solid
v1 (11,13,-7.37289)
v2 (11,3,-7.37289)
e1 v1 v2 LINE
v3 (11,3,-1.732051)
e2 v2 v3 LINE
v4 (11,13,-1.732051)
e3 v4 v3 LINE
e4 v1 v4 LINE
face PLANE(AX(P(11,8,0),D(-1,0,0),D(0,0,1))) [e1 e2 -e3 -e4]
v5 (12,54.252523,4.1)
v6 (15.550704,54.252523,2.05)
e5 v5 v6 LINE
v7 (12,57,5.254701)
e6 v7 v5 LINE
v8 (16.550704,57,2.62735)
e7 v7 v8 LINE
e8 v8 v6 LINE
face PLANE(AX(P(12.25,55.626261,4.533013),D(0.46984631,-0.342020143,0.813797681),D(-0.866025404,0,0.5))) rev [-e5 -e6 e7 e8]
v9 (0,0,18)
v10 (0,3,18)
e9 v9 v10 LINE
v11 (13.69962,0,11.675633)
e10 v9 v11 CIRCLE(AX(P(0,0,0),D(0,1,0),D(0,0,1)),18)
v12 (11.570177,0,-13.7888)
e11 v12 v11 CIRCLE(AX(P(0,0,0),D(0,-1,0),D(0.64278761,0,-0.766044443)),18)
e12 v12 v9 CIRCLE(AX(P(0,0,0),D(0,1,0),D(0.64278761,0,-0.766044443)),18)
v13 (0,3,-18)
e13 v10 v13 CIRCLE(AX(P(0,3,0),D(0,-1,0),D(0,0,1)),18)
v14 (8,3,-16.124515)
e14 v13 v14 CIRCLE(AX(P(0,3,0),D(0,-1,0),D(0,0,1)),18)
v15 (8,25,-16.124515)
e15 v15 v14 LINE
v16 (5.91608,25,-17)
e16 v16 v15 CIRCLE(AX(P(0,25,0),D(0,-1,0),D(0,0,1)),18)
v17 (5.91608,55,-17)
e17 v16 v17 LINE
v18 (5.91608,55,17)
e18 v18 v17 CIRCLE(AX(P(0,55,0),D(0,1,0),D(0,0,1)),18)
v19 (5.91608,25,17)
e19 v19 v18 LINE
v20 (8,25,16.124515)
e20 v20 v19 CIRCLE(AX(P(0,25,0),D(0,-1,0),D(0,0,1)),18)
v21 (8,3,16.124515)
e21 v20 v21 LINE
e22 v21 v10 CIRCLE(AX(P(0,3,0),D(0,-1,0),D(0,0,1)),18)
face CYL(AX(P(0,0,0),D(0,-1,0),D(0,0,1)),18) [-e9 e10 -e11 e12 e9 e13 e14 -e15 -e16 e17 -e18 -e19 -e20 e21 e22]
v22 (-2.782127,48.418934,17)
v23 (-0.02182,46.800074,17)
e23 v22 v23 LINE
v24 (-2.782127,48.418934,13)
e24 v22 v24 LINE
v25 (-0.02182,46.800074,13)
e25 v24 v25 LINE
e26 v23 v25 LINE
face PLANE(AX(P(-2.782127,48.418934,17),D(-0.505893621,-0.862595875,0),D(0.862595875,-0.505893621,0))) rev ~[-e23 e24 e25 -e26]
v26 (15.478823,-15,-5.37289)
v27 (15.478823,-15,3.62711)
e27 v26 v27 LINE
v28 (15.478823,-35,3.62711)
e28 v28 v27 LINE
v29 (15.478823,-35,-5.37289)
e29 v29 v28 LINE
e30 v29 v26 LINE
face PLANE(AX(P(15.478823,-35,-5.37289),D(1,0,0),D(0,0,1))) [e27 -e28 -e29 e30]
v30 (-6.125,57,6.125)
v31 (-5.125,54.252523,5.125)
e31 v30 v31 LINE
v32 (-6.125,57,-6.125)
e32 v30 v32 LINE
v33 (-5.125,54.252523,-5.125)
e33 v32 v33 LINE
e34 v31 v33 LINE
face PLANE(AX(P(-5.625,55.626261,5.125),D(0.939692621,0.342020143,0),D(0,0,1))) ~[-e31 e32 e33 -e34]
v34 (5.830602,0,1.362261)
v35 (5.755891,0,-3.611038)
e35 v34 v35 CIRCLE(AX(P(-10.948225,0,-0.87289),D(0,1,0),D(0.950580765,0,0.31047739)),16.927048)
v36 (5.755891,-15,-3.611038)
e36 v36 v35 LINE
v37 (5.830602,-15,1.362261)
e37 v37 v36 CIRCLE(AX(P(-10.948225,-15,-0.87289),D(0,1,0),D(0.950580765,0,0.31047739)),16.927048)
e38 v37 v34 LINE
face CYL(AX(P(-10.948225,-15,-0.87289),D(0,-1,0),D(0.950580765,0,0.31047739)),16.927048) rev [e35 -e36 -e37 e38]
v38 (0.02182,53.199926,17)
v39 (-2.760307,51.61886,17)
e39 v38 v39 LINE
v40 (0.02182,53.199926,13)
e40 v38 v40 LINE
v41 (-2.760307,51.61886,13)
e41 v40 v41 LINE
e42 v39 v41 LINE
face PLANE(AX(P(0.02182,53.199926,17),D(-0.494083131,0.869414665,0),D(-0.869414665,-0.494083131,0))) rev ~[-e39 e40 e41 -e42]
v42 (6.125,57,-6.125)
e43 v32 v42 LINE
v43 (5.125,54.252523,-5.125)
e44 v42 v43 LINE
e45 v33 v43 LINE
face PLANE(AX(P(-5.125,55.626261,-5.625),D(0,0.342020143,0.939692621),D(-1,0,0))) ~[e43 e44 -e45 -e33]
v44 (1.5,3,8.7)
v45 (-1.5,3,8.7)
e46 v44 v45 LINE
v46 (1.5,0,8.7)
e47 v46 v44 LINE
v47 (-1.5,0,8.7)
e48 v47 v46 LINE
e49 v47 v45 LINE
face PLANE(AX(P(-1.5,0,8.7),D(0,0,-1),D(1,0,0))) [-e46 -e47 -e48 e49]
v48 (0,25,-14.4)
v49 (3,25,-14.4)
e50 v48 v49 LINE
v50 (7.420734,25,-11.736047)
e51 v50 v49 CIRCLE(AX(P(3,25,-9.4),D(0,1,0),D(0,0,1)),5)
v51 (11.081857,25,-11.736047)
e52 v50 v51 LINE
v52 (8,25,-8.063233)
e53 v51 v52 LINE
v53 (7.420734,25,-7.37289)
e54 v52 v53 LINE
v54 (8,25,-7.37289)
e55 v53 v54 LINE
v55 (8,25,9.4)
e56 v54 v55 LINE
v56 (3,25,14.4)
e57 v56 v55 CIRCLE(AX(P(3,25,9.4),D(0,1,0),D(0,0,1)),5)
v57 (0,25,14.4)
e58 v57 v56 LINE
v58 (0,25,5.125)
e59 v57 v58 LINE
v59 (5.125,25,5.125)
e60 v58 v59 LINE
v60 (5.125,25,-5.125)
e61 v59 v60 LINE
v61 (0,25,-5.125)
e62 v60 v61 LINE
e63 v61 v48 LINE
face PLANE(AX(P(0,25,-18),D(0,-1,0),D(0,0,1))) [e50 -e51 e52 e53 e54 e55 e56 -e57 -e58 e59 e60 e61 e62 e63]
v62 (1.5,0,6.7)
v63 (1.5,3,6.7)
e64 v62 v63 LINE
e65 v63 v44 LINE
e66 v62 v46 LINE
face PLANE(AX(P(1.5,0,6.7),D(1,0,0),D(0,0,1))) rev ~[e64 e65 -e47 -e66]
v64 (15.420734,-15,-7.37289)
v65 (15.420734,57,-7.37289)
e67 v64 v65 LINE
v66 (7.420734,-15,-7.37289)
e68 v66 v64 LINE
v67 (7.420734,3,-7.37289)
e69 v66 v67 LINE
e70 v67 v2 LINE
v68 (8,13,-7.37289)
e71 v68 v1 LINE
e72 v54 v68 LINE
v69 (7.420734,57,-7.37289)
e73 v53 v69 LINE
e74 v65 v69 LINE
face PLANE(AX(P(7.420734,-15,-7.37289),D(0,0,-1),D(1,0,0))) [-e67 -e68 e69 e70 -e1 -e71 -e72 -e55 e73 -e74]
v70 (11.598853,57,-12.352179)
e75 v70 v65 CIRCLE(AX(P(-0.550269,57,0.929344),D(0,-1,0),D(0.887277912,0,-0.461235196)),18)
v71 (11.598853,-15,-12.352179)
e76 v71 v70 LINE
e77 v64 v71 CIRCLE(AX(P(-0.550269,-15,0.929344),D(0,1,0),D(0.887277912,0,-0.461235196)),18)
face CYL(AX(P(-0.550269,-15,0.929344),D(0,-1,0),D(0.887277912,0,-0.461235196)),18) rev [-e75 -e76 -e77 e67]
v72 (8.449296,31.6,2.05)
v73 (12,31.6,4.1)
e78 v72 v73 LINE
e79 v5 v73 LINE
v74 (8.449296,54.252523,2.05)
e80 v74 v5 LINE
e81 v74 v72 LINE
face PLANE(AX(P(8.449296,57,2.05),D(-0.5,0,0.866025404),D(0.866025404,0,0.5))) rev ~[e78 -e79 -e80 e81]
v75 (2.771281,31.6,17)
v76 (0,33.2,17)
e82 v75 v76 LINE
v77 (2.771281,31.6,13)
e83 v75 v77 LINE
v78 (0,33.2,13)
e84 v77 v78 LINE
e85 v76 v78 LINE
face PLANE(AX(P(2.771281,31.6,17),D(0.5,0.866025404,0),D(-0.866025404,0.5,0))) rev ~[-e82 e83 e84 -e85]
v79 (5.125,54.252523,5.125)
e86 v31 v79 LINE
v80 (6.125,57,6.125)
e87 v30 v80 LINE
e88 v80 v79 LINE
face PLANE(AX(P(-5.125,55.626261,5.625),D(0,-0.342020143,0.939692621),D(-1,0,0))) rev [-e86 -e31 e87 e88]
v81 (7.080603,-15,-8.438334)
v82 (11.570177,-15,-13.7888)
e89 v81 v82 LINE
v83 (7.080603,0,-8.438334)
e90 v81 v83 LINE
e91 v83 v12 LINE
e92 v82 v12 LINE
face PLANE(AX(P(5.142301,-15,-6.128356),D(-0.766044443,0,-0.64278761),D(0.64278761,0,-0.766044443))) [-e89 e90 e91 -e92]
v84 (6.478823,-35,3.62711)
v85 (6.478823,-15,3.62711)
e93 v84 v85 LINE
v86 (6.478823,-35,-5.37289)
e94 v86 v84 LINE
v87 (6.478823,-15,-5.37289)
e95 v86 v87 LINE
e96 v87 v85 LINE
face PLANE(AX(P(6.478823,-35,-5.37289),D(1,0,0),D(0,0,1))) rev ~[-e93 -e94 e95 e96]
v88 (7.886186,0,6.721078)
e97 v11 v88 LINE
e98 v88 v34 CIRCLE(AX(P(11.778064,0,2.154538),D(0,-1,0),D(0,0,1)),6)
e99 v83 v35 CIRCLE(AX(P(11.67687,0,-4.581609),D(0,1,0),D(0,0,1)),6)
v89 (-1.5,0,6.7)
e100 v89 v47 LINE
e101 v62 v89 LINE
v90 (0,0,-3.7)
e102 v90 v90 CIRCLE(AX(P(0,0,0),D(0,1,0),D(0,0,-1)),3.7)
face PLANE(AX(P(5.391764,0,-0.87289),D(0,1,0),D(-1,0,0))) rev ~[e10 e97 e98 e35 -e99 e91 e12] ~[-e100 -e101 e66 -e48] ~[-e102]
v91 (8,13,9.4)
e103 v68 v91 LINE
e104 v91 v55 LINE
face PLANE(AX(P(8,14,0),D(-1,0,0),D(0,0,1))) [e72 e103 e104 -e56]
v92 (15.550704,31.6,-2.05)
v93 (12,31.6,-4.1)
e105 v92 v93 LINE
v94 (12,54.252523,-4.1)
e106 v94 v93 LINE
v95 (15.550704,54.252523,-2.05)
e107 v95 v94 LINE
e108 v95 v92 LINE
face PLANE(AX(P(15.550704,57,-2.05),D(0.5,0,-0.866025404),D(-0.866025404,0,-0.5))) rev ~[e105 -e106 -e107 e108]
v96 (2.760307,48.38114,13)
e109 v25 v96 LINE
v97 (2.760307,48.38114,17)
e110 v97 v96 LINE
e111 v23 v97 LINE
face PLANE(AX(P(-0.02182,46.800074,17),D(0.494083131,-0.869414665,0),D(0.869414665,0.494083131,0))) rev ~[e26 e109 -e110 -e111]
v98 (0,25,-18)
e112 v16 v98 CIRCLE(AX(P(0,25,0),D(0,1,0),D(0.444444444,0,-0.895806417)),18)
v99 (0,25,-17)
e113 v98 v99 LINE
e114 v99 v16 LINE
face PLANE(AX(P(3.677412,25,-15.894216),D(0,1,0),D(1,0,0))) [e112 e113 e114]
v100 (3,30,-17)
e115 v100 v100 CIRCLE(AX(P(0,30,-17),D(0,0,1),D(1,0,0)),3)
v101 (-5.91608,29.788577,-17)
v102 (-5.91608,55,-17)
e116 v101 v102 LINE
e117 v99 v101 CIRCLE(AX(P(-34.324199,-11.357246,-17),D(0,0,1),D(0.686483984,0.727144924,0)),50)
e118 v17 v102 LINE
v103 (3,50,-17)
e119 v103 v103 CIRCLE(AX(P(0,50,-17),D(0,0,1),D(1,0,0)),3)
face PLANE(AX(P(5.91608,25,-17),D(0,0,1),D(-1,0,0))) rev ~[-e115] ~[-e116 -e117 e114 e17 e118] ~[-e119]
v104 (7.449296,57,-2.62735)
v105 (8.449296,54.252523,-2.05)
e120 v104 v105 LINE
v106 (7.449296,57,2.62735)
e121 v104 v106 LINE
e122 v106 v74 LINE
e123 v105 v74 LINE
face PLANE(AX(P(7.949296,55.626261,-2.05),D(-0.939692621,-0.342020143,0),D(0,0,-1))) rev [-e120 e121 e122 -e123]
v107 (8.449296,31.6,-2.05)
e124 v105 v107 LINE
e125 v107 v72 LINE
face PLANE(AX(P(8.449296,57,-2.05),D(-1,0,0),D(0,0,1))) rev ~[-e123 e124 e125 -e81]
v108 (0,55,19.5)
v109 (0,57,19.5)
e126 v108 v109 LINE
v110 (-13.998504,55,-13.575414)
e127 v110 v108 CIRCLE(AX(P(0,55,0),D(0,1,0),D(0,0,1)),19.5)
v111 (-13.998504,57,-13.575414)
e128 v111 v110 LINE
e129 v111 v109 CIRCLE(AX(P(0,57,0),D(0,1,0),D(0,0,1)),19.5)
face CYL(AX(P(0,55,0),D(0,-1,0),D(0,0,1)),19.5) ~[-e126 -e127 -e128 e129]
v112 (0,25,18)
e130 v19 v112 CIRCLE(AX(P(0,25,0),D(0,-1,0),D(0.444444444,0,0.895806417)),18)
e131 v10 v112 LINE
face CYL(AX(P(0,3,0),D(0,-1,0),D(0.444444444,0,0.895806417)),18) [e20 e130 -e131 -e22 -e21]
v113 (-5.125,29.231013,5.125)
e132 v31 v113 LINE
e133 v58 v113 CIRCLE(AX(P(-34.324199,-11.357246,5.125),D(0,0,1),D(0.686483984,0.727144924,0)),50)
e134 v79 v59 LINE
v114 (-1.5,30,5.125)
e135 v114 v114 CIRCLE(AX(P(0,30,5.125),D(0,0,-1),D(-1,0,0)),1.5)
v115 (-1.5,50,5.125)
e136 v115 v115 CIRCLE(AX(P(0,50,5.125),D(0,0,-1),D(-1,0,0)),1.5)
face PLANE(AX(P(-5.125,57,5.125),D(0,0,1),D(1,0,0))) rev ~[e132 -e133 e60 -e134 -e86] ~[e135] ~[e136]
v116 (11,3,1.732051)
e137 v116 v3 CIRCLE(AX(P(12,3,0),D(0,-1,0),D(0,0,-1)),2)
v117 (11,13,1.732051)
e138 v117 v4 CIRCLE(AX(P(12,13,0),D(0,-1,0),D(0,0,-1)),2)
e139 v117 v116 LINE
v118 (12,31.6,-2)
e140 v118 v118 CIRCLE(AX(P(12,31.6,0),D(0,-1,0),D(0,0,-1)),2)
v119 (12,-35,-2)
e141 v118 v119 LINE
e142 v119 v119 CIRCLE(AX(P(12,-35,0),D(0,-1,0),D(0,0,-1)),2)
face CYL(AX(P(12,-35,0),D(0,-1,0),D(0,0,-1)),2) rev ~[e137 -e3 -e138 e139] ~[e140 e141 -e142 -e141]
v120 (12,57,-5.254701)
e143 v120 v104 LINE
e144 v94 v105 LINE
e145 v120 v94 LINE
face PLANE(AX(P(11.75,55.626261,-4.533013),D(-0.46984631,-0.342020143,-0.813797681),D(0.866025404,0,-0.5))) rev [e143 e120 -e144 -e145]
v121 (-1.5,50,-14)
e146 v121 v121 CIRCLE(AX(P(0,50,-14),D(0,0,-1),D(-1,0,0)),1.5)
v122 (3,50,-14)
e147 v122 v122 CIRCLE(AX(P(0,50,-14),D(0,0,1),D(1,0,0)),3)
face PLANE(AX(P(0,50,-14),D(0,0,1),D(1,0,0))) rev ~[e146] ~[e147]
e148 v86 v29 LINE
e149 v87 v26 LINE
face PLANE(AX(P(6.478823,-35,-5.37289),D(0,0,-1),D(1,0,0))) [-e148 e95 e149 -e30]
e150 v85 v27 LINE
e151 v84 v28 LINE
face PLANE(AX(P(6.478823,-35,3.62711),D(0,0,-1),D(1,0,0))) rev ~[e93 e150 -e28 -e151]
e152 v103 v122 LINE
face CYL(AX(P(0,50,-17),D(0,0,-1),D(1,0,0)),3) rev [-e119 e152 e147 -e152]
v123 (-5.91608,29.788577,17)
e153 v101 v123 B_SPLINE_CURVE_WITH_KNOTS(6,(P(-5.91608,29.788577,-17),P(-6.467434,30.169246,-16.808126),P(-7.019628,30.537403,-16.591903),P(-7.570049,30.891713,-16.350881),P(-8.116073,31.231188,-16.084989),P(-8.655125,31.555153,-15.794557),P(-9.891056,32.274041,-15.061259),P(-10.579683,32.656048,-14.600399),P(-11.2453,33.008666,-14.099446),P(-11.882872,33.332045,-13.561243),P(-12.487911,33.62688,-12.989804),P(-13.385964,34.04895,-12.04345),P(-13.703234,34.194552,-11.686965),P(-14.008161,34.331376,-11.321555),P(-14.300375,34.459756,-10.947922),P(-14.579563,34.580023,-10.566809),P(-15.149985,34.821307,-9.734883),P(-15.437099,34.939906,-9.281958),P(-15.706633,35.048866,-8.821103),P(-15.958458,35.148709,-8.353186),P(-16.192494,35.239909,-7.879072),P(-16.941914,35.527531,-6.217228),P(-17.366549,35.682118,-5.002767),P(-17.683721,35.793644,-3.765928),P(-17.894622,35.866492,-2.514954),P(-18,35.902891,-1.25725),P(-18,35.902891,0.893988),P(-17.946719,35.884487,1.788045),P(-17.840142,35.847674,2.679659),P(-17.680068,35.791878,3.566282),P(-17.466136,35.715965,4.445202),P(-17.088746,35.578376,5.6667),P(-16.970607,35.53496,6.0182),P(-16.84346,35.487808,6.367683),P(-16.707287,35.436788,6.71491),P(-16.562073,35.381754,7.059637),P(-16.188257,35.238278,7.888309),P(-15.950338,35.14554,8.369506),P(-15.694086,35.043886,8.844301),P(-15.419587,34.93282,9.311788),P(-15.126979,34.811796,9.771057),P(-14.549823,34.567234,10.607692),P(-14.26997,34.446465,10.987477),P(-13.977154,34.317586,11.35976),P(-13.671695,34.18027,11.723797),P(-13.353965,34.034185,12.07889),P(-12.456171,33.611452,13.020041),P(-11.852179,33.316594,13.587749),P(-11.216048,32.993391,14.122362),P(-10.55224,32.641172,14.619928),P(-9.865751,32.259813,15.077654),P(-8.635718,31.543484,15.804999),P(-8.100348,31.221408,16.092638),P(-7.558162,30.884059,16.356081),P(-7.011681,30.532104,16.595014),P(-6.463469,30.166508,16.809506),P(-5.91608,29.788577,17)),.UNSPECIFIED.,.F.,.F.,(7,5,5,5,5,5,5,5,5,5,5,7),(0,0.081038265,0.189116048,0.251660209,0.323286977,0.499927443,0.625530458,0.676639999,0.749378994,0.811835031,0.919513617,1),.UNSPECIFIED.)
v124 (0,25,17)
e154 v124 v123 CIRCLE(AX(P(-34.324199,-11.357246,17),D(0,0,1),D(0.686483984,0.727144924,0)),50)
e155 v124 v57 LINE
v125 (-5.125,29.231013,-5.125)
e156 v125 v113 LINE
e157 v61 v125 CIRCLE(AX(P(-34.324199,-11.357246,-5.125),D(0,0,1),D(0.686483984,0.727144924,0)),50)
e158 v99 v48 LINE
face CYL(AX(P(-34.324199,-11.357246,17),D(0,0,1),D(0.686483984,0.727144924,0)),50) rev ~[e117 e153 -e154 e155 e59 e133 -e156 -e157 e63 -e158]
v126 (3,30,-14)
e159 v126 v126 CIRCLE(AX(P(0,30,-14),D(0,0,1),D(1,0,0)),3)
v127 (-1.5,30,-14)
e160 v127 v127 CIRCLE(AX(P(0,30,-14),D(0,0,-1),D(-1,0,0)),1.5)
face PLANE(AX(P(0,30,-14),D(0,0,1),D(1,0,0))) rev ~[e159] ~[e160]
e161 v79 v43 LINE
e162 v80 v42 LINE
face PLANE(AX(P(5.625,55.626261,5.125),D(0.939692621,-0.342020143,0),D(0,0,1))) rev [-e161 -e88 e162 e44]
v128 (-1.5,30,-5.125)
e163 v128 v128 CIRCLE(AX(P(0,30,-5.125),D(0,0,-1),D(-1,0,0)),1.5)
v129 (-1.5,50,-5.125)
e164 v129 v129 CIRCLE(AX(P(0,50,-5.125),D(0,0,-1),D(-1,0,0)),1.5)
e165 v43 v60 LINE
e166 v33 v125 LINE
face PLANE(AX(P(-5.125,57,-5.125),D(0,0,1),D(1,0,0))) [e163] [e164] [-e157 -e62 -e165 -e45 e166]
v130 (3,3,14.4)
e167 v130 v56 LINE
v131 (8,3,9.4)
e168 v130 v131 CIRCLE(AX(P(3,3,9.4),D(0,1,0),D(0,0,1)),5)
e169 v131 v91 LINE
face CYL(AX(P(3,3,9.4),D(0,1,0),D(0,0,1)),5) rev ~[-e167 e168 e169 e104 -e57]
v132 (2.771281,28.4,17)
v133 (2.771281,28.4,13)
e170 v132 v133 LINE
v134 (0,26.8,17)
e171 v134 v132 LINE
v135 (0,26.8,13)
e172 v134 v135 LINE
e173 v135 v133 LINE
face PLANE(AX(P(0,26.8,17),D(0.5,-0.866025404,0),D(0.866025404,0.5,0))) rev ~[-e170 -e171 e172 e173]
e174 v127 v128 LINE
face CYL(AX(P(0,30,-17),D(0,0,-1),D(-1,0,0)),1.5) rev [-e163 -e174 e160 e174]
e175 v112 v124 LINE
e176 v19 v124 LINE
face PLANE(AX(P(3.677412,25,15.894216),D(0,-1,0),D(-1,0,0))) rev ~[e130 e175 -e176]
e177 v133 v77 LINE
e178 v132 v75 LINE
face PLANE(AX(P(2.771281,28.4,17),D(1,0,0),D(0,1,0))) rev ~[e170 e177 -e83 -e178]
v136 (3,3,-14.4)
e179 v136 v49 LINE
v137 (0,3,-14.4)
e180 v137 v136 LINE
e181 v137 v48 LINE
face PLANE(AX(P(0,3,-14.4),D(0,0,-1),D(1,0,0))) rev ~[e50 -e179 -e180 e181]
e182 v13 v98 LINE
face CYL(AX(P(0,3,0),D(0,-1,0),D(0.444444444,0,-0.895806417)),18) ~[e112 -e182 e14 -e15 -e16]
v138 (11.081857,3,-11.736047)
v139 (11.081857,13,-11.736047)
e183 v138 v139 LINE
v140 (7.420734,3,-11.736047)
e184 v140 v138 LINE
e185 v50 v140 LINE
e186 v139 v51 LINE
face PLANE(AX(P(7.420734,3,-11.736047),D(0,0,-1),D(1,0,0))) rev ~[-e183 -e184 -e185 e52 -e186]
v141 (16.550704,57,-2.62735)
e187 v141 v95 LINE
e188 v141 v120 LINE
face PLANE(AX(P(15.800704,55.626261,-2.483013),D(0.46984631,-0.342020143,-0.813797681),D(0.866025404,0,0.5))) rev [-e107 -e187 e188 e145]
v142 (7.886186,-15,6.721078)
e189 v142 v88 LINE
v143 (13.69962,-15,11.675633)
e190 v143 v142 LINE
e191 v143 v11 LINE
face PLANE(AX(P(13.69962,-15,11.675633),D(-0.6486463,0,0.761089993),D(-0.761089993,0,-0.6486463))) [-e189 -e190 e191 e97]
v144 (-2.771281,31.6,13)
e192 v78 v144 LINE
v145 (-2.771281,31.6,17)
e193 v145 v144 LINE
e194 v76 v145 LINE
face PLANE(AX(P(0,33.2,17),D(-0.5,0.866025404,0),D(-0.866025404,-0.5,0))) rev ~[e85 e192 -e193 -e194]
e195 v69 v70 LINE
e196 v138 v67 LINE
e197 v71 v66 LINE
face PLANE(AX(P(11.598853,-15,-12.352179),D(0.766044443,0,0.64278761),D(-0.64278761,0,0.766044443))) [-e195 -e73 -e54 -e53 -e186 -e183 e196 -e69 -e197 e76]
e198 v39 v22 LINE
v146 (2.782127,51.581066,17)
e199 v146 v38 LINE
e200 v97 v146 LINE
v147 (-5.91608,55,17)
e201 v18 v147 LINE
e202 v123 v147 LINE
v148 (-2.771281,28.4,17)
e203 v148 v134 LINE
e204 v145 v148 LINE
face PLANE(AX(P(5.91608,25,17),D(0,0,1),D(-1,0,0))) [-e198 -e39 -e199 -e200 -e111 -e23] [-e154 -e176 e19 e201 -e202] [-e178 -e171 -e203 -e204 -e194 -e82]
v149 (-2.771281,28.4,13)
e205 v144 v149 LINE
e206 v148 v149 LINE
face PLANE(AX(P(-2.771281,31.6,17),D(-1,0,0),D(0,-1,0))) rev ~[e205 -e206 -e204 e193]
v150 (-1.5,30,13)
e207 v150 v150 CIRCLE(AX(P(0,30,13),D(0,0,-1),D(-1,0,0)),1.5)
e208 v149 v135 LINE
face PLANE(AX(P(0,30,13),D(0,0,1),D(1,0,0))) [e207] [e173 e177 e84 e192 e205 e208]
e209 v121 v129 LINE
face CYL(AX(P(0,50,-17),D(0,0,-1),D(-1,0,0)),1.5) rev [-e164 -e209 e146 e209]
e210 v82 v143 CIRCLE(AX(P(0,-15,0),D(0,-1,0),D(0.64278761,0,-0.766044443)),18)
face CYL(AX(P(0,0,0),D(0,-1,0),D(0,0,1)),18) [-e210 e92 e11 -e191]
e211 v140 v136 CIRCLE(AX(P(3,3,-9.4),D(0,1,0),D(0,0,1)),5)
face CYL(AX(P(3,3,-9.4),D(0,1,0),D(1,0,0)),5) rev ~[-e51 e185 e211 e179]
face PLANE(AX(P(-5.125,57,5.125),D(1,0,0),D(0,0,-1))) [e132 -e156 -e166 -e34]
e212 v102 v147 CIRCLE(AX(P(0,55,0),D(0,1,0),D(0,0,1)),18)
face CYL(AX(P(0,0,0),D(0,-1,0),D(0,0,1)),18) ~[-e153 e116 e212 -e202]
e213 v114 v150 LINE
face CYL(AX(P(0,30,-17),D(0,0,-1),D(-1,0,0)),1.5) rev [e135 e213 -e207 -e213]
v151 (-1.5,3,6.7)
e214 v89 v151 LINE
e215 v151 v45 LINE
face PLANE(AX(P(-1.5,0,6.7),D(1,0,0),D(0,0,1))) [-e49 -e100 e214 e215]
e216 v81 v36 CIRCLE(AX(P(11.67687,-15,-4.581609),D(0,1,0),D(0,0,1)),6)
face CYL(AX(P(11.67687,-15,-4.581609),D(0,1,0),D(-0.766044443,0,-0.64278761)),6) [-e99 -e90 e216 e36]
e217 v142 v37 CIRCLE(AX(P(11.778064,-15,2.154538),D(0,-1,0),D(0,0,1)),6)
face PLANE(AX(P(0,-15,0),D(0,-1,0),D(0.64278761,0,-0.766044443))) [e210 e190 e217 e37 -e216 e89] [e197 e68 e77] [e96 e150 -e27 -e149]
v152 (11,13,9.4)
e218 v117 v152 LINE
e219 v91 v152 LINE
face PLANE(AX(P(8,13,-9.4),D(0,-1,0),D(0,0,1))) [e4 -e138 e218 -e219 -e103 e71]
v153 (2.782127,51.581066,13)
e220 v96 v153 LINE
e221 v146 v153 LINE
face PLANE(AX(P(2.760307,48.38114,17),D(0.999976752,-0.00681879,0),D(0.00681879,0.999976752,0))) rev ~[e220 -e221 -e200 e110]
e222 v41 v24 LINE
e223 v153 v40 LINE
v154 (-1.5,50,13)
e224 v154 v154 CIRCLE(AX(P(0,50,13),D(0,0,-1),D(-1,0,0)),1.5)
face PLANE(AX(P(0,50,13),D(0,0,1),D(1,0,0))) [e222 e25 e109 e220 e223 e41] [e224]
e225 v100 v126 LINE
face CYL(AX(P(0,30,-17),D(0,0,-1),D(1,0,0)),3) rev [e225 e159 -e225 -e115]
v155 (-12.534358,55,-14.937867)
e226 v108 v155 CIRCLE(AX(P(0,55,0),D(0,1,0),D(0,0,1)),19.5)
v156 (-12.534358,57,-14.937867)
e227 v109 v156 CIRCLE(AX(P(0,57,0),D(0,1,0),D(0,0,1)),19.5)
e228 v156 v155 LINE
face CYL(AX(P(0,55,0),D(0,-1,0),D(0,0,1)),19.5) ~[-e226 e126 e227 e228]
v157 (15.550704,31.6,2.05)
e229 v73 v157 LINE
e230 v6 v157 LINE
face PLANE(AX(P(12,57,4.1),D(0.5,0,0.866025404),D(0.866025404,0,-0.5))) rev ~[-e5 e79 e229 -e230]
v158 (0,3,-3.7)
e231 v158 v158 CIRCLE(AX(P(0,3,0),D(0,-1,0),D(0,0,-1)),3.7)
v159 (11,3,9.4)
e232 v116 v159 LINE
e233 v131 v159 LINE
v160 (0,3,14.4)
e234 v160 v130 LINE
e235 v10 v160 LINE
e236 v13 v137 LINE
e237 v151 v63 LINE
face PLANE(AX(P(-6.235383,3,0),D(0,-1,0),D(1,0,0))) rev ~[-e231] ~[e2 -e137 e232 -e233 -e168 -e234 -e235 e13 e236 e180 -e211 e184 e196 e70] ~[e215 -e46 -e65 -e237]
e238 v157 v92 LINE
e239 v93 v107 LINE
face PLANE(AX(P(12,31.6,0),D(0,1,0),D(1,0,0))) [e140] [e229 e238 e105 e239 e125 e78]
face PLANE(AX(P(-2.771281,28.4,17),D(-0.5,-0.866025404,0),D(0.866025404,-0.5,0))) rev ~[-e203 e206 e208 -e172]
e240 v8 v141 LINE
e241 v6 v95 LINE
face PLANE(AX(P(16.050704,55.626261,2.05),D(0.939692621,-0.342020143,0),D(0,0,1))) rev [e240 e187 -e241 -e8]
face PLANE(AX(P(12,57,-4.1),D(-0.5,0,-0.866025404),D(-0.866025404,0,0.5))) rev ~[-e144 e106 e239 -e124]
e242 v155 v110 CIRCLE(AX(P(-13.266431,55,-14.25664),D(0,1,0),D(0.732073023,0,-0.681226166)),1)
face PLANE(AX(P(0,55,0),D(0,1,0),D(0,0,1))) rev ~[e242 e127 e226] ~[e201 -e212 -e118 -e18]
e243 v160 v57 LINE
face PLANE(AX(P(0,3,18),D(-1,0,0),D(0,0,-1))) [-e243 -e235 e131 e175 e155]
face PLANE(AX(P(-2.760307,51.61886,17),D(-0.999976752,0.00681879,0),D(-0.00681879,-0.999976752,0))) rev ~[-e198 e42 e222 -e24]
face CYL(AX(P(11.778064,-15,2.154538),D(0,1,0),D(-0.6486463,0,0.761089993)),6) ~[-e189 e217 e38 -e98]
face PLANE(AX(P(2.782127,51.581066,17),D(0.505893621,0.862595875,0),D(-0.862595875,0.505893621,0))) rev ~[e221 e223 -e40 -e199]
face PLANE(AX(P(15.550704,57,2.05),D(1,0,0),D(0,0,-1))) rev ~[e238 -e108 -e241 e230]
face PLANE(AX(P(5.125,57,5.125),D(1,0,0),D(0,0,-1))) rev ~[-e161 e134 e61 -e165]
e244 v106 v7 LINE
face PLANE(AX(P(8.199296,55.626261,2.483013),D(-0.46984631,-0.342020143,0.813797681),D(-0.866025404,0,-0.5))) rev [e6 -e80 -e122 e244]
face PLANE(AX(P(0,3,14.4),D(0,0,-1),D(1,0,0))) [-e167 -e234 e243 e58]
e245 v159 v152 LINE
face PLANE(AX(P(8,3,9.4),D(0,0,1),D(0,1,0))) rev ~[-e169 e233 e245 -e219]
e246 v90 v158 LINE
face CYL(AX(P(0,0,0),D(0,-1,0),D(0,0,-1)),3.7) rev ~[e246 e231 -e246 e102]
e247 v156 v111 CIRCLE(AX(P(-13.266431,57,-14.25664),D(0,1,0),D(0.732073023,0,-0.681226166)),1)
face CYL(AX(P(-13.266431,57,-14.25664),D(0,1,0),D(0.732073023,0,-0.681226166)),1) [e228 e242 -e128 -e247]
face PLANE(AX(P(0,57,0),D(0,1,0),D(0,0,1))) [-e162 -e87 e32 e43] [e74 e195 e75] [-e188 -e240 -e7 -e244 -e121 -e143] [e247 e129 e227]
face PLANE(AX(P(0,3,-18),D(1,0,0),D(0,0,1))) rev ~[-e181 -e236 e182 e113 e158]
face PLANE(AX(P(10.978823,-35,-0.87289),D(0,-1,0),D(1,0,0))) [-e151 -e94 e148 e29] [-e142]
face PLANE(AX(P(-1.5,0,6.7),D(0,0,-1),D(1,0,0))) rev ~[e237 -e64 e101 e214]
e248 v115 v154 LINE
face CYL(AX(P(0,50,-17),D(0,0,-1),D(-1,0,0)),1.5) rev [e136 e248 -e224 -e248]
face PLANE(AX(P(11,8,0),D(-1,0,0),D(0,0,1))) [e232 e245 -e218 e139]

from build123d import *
from build123d.topology import SkipClean

# Parameters (mm, degrees)
SKETCH_1_R          = 18
EXTRUDE_1_DEPTH     = 55
SKETCH_2_R          = 19.5
EXTRUDE_2_DEPTH     = 2
SKETCH_3_W          = 10.25
SKETCH_3_H          = 10.25
CUT_EXTRUDE_1_DEPTH = 40
EXTRUDE_START       = 15
EXTRUDE_3_DEPTH     = 15
BOSS_EXTRUDE1_START = 20
SKETCH1_R           = 18
BOSS_EXTRUDE1_DEPTH = 20
BOSS_EXTRUDE2_START = 7
SKETCH3_R           = 18
BOSS_EXTRUDE2_DEPTH = 7
SKETCH4_W           = 10.2
SKETCH4_H           = 10.2
CUT_EXTRUDE2_DEPTH  = 27
CUT_EXTRUDE4_DEPTH  = 25
BOSS_EXTRUDE3_DEPTH = 3
SKETCH9_W           = 36
SKETCH9_H           = 22
CUT_EXTRUDE5_DEPTH  = 8
SKETCH10_R          = 3.7
SKETCH10_W          = 3
SKETCH10_H          = 2
CUT_EXTRUDE6_DEPTH  = 10
SKETCH11_R          = 2
CUT_EXTRUDE7_DEPTH  = 102
SKETCH15_R          = 18
CUT_EXTRUDE9_DEPTH  = 27
CUT_EXTRUDE11_DEPTH = 30
SKETCH18_R          = 1.5
CUT_EXTRUDE12_DEPTH = 71.437915926
SKETCH19_R          = 3
CUT_EXTRUDE13_DEPTH = 3
BOSS_EXTRUDE5_DEPTH = 22
CUT_EXTRUDE16_DEPTH = 4
CUT_EXTRUDE17_DEPTH = 25.4
CUT_EXTRUDE18_DEPTH = 71.437915926
FILLET2_R           = 5
SKETCH30_W          = 18.8
SKETCH30_H          = 10
CUT_EXTRUDE20_DEPTH = 3
CHAMFER1_SIZE       = 1
CHAMFER1_SIZE2      = 2.747477419
CHAMFER2_SIZE       = 1
CHAMFER2_SIZE2      = 2.747477419
BOSS_EXTRUDE7_START = 20
SKETCH37_W          = 9
SKETCH37_H          = 9
SKETCH37_R          = 2
BOSS_EXTRUDE7_DEPTH = 20
CUT_EXTRUDE22_DEPTH = 15
CUT_EXTRUDE23_DEPTH = 78.100583655
SKETCH40_W          = 4.363156696
SKETCH40_H          = 4.363156696
CUT_EXTRUDE24_DEPTH = 10
FILLET7_R           = 6
BOSS_EXTRUDE8_DEPTH = 2
CUT_EXTRUDE25_DEPTH = 12


with BuildPart() as part:
    # Эскиз1 → Бобышка-Вытянуть1 (new body)
    with BuildSketch(Plane(origin=(0, 0, 0), x_dir=(1, 0, 0), z_dir=(0, 1, 0))):
        with Locations(Location((0, 0, 0), (0, 0, 270))):
            Circle(SKETCH_1_R)
    extrude(amount=EXTRUDE_1_DEPTH)

    # Эскиз2 → Бобышка-Вытянуть2 (add)
    with BuildSketch(Plane(origin=(0, 55, 0), x_dir=(1, 0, 0), z_dir=(0, 1, 0))):
        with Locations(Location((0, 0, 0), (0, 0, 270))):
            Circle(SKETCH_2_R)
    extrude(amount=EXTRUDE_2_DEPTH)

    # Эскиз3 → Вырез-Вытянуть1 (cut)
    with BuildSketch(Plane(origin=(0, 57, 0), x_dir=(1, 0, 0), z_dir=(0, 1, 0))):
        Rectangle(SKETCH_3_W, SKETCH_3_H)
    extrude(amount=-CUT_EXTRUDE_1_DEPTH, mode=Mode.SUBTRACT)

    # Эскиз4 → Бобышка-Вытянуть3 (add)
    with SkipClean():  # the faces are left unmerged after this step: merging them gives an invalid solid
        with BuildSketch(Plane.XZ.offset(EXTRUDE_START)):
            with BuildLine():
                Line((5.142300877, -6.128355545), (11.570176974, -13.788799976))
                ThreePointArc((11.570176974, -13.788799976), (17.937391115, -1.5), (13.69961987, 11.675633406))
                Line((13.69961987, 11.675633406), (5.142300877, 4.38257561))
                Line((5.142300877, 4.38257561), (5.142300877, -6.128355545))
            make_face()
        extrude(amount=-EXTRUDE_3_DEPTH)

    # Sketch1 → Boss-Extrude1 (add)
    with BuildSketch(Plane.XZ.offset(15).offset(BOSS_EXTRUDE1_START)):
        with Locations(Location((0, 0, 0), (0, 0, 270))):
            Circle(SKETCH1_R)
    extrude(amount=-BOSS_EXTRUDE1_DEPTH)

    # Sketch3 → Boss-Extrude2 (add)
    with BuildSketch(Plane.XZ.offset(35).offset(BOSS_EXTRUDE2_START)):
        with Locations(Location((0, 0, 0), (0, 0, 270))):
            Circle(SKETCH3_R)
    extrude(amount=-BOSS_EXTRUDE2_DEPTH)

    # Sketch4 → Cut-Extrude2 (cut)
    with BuildSketch(Plane.XZ.offset(42)):
        Rectangle(SKETCH4_W, SKETCH4_H)
    extrude(amount=-CUT_EXTRUDE2_DEPTH, mode=Mode.SUBTRACT)

    # Sketch6 → Cut-Extrude4 (cut)
    with BuildSketch(Plane.XZ):
        with BuildLine():
            Line((0, 18), (0, -18))
            ThreePointArc((0, -18), (-18, 0), (0, 18))
        make_face()
    extrude(amount=-CUT_EXTRUDE4_DEPTH, mode=Mode.SUBTRACT)

    # Sketch8 → Boss-Extrude3 (add)
    with BuildSketch(Plane.XZ):
        with BuildLine():
            Line((0, -18), (0, 18))
            ThreePointArc((0, 18), (-18, 0), (0, -18))
        make_face()
    extrude(amount=-BOSS_EXTRUDE3_DEPTH)

    # Sketch9 → Cut-Extrude5 (cut)
    with BuildSketch(Plane.ZY):
        with Locations((0, 14)):
            Rectangle(SKETCH9_W, SKETCH9_H)
    extrude(amount=-CUT_EXTRUDE5_DEPTH, mode=Mode.SUBTRACT)

    # Sketch10 → Cut-Extrude6 (cut)
    with BuildSketch(Plane.XZ):
        with Locations(Location((0, 0, 0), (0, 0, 270))):
            Circle(SKETCH10_R)
        with Locations((0, 7.7)):
            Rectangle(SKETCH10_W, SKETCH10_H)
    extrude(amount=-CUT_EXTRUDE6_DEPTH, mode=Mode.SUBTRACT)

    # Sketch11 → Cut-Extrude7 (cut)
    with BuildSketch(Plane.XZ.offset(42)):
        with Locations(Location((12, 0, 0), (0, 0, 270))):
            Circle(SKETCH11_R)
    extrude(amount=-CUT_EXTRUDE7_DEPTH, mode=Mode.SUBTRACT)

    # Sketch15 → Cut-Extrude9 (cut)
    with BuildSketch(Plane.XZ.offset(42)):
        with Locations(Location((0, 0, 0), (0, 0, 310))):
            Circle(SKETCH15_R)
    extrude(amount=-CUT_EXTRUDE9_DEPTH, mode=Mode.SUBTRACT)

    # Sketch17 → Cut-Extrude11 (cut)
    with BuildSketch(Plane.XZ.offset(-25)):
        with BuildLine():
            Line((5.916079783, -17), (-5.916079783, -17))
            ThreePointArc((-5.916079783, -17), (0, -18), (5.916079783, -17))
        make_face()
        with BuildLine():
            Line((5.916079783, 17), (-5.916079783, 17))
            ThreePointArc((-5.916079783, 17), (0, 18), (5.916079783, 17))
        make_face()
    extrude(amount=-CUT_EXTRUDE11_DEPTH, mode=Mode.SUBTRACT)

    # Sketch18 → Cut-Extrude12 (cut, through all)
    with BuildSketch(Plane.XY.offset(-17)):
        with Locations(Location((0, 30, 0), (0, 0, 180))):
            Circle(SKETCH18_R)
        with Locations(Location((0, 50, 0), (0, 0, 180))):
            Circle(SKETCH18_R)
    extrude(amount=CUT_EXTRUDE12_DEPTH, mode=Mode.SUBTRACT)

    # Sketch19 → Cut-Extrude13 (cut)
    with BuildSketch(Plane.XY.offset(-17)):
        with Locations((0, 30)):
            Circle(SKETCH19_R)
        with Locations((0, 50)):
            Circle(SKETCH19_R)
    extrude(amount=CUT_EXTRUDE13_DEPTH, mode=Mode.SUBTRACT)

    # Sketch23 → Boss-Extrude5 (add)
    with BuildSketch(Plane(origin=(0, 3, 0), x_dir=(1, 0, 0), z_dir=(0, 1, 0))):
        with BuildLine():
            Line((0, -14.4), (8, -14.4))
            Line((8, -14.4), (8, -16.124515497))
            ThreePointArc((8, -16.124515497), (4.108449894, -17.524857759), (0, -18))
            Line((0, -18), (0, -14.4))
        make_face()
        with BuildLine():
            Line((0, 14.4), (8, 14.4))
            Line((8, 14.4), (8, 16.124515497))
            ThreePointArc((8, 16.124515497), (4.108449894, 17.524857759), (0, 18))
            Line((0, 18), (0, 14.4))
        make_face()
    extrude(amount=BOSS_EXTRUDE5_DEPTH)

    # Sketch25 → Cut-Extrude16 (cut)
    with BuildSketch(Plane.XY.offset(17)):
        Polygon((2.771281292, 28.4), (2.771281292, 31.6), (0, 33.2), (-2.771281292, 31.6), (-2.771281292, 28.4), (0, 26.8), align=None)
        Polygon((-2.782126929, 48.418933983), (-0.021820128, 46.800074394), (2.760306801, 48.381140412), (2.782126929, 51.581066017), (0.021820128, 53.199925606), (-2.760306801, 51.618859588), align=None)
    extrude(amount=-CUT_EXTRUDE16_DEPTH, mode=Mode.SUBTRACT)

    # Sketch26 → Cut-Extrude17 (cut)
    with BuildSketch(Plane(origin=(0, 57, 0), x_dir=(1, 0, 0), z_dir=(0, 1, 0))):
        Polygon((8.449295844, -2.05), (12, -4.1), (15.550704156, -2.05), (15.550704156, 2.05), (12, 4.1), (8.449295844, 2.05), align=None)
    extrude(amount=-CUT_EXTRUDE17_DEPTH, mode=Mode.SUBTRACT)

    # Sketch27 → Cut-Extrude18 (cut, through all)
    with BuildSketch(Plane.XY.offset(17)):
        with BuildLine():
            Line((-20, 36.547005384), (-20, 25))
            Line((-20, 25), (0, 25))
            ThreePointArc((0, 25), (-9.324199199, 31.944024015), (-20, 36.547005384))
        make_face()
    extrude(amount=-CUT_EXTRUDE18_DEPTH, mode=Mode.SUBTRACT)

    # Fillet2
    fillet2_edges = [part.edges().sort_by_distance(p)[0] for p in [
        (8, 14, -14.4),
        (8, 14, 14.4),
    ]]
    fillet(fillet2_edges, radius=FILLET2_R)

    # Sketch30 → Cut-Extrude20 (cut)
    with BuildSketch(Plane.ZY.offset(-8)):
        with Locations((0, 8)):
            Rectangle(SKETCH30_W, SKETCH30_H)
    extrude(amount=-CUT_EXTRUDE20_DEPTH, mode=Mode.SUBTRACT)

    # Chamfer1
    chamfer1_edges = [part.edges().sort_by_distance(p)[0] for p in [
        (5.125, 57, 0),
        (0, 57, -5.125),
        (-5.125, 57, 0),
        (0, 57, 5.125),
    ]]
    chamfer1_side = [part.faces().sort_by_distance(p)[0] for p in [
        (0, 57, -18.948456711),
    ]]
    chamfer(chamfer1_edges, length=CHAMFER1_SIZE, length2=CHAMFER1_SIZE2, reference=chamfer1_side[0])

    # Chamfer2
    chamfer2_edges = [part.edges().sort_by_distance(p)[0] for p in [
        (8.449295844, 57, 0),
        (10.224647922, 57, 3.075),
        (13.775352078, 57, 3.075),
        (15.550704156, 57, 0),
        (13.775352078, 57, -3.075),
        (10.224647922, 57, -3.075),
    ]]
    chamfer2_side = [part.faces().sort_by_distance(p)[0] for p in [
        (6.676543289, 57, 0),
    ]]
    chamfer(chamfer2_edges, length=CHAMFER2_SIZE, length2=CHAMFER2_SIZE2, reference=chamfer2_side[0])

    # Sketch37 → Boss-Extrude7 (add)
    with BuildSketch(Plane.XZ.offset(15).offset(BOSS_EXTRUDE7_START)):
        with Locations((10.978822628, -0.872889968)):
            Rectangle(SKETCH37_W, SKETCH37_H)
        with Locations(Location((12, 0, 0), (0, 0, 270))):
            Circle(SKETCH37_R, mode=Mode.SUBTRACT)
    extrude(amount=-BOSS_EXTRUDE7_DEPTH)

    # Sketch38 → Cut-Extrude22 (cut)
    with BuildSketch(Plane.XZ.offset(15)):
        with BuildLine():
            Line((5.142300877, -6.128355545), (5.142300877, 4.38257561))
            ThreePointArc((5.142300877, 4.38257561), (5.978822628, -0.872889968), (5.142300877, -6.128355545))
        make_face()
    extrude(amount=-CUT_EXTRUDE22_DEPTH, mode=Mode.SUBTRACT)

    # Sketch39 → Cut-Extrude23 (cut, through all)
    with BuildSketch(Plane.XZ.offset(15)):
        with BuildLine():
            Line((7.420733648, -7.372889968), (15.420733648, -7.372889968))
            ThreePointArc((15.420733648, -7.372889968), (13.728515389, -10.030415688), (11.598853111, -12.352178848))
            Line((11.598853111, -12.352178848), (7.420733648, -7.372889968))
        make_face()
    extrude(amount=-CUT_EXTRUDE23_DEPTH, mode=Mode.SUBTRACT)

    # Sketch40 → Cut-Extrude24 (cut)
    with BuildSketch(Plane(origin=(0, 3, 0), x_dir=(1, 0, 0), z_dir=(0, 1, 0))):
        with Locations((9.602311996, 9.554468316)):
            Rectangle(SKETCH40_W, SKETCH40_H)
    extrude(amount=CUT_EXTRUDE24_DEPTH, mode=Mode.SUBTRACT)

    # Fillet7
    fillet7_edges = [part.edges().sort_by_distance(p)[0] for p in [
        (5.142300877, -7.5, 4.38257561),
        (5.142300877, -7.5, -6.128355545),
    ]]
    fillet(fillet7_edges, radius=FILLET7_R)

    # Sketch41 → Boss-Extrude8 (add)
    with BuildSketch(Plane(origin=(0, 57, 0), x_dir=(1, 0, 0), z_dir=(0, 1, 0))):
        with BuildLine():
            Line((-13.998504433, 13.575414308), (-12.534358389, 14.937866641))
            ThreePointArc((-12.534358389, 14.937866641), (-13.947657578, 14.988713497), (-13.998504433, 13.575414308))
        make_face()
    extrude(amount=-BOSS_EXTRUDE8_DEPTH)

    # Sketch42 → Cut-Extrude25 (cut)
    with BuildSketch(Plane.XZ.offset(-13)):
        Polygon((8, -8.063232724), (7.420733648, -11.736046664), (11.081856822, -11.736046664), align=None)
    extrude(amount=-CUT_EXTRUDE25_DEPTH, mode=Mode.SUBTRACT)


solid = part.part
